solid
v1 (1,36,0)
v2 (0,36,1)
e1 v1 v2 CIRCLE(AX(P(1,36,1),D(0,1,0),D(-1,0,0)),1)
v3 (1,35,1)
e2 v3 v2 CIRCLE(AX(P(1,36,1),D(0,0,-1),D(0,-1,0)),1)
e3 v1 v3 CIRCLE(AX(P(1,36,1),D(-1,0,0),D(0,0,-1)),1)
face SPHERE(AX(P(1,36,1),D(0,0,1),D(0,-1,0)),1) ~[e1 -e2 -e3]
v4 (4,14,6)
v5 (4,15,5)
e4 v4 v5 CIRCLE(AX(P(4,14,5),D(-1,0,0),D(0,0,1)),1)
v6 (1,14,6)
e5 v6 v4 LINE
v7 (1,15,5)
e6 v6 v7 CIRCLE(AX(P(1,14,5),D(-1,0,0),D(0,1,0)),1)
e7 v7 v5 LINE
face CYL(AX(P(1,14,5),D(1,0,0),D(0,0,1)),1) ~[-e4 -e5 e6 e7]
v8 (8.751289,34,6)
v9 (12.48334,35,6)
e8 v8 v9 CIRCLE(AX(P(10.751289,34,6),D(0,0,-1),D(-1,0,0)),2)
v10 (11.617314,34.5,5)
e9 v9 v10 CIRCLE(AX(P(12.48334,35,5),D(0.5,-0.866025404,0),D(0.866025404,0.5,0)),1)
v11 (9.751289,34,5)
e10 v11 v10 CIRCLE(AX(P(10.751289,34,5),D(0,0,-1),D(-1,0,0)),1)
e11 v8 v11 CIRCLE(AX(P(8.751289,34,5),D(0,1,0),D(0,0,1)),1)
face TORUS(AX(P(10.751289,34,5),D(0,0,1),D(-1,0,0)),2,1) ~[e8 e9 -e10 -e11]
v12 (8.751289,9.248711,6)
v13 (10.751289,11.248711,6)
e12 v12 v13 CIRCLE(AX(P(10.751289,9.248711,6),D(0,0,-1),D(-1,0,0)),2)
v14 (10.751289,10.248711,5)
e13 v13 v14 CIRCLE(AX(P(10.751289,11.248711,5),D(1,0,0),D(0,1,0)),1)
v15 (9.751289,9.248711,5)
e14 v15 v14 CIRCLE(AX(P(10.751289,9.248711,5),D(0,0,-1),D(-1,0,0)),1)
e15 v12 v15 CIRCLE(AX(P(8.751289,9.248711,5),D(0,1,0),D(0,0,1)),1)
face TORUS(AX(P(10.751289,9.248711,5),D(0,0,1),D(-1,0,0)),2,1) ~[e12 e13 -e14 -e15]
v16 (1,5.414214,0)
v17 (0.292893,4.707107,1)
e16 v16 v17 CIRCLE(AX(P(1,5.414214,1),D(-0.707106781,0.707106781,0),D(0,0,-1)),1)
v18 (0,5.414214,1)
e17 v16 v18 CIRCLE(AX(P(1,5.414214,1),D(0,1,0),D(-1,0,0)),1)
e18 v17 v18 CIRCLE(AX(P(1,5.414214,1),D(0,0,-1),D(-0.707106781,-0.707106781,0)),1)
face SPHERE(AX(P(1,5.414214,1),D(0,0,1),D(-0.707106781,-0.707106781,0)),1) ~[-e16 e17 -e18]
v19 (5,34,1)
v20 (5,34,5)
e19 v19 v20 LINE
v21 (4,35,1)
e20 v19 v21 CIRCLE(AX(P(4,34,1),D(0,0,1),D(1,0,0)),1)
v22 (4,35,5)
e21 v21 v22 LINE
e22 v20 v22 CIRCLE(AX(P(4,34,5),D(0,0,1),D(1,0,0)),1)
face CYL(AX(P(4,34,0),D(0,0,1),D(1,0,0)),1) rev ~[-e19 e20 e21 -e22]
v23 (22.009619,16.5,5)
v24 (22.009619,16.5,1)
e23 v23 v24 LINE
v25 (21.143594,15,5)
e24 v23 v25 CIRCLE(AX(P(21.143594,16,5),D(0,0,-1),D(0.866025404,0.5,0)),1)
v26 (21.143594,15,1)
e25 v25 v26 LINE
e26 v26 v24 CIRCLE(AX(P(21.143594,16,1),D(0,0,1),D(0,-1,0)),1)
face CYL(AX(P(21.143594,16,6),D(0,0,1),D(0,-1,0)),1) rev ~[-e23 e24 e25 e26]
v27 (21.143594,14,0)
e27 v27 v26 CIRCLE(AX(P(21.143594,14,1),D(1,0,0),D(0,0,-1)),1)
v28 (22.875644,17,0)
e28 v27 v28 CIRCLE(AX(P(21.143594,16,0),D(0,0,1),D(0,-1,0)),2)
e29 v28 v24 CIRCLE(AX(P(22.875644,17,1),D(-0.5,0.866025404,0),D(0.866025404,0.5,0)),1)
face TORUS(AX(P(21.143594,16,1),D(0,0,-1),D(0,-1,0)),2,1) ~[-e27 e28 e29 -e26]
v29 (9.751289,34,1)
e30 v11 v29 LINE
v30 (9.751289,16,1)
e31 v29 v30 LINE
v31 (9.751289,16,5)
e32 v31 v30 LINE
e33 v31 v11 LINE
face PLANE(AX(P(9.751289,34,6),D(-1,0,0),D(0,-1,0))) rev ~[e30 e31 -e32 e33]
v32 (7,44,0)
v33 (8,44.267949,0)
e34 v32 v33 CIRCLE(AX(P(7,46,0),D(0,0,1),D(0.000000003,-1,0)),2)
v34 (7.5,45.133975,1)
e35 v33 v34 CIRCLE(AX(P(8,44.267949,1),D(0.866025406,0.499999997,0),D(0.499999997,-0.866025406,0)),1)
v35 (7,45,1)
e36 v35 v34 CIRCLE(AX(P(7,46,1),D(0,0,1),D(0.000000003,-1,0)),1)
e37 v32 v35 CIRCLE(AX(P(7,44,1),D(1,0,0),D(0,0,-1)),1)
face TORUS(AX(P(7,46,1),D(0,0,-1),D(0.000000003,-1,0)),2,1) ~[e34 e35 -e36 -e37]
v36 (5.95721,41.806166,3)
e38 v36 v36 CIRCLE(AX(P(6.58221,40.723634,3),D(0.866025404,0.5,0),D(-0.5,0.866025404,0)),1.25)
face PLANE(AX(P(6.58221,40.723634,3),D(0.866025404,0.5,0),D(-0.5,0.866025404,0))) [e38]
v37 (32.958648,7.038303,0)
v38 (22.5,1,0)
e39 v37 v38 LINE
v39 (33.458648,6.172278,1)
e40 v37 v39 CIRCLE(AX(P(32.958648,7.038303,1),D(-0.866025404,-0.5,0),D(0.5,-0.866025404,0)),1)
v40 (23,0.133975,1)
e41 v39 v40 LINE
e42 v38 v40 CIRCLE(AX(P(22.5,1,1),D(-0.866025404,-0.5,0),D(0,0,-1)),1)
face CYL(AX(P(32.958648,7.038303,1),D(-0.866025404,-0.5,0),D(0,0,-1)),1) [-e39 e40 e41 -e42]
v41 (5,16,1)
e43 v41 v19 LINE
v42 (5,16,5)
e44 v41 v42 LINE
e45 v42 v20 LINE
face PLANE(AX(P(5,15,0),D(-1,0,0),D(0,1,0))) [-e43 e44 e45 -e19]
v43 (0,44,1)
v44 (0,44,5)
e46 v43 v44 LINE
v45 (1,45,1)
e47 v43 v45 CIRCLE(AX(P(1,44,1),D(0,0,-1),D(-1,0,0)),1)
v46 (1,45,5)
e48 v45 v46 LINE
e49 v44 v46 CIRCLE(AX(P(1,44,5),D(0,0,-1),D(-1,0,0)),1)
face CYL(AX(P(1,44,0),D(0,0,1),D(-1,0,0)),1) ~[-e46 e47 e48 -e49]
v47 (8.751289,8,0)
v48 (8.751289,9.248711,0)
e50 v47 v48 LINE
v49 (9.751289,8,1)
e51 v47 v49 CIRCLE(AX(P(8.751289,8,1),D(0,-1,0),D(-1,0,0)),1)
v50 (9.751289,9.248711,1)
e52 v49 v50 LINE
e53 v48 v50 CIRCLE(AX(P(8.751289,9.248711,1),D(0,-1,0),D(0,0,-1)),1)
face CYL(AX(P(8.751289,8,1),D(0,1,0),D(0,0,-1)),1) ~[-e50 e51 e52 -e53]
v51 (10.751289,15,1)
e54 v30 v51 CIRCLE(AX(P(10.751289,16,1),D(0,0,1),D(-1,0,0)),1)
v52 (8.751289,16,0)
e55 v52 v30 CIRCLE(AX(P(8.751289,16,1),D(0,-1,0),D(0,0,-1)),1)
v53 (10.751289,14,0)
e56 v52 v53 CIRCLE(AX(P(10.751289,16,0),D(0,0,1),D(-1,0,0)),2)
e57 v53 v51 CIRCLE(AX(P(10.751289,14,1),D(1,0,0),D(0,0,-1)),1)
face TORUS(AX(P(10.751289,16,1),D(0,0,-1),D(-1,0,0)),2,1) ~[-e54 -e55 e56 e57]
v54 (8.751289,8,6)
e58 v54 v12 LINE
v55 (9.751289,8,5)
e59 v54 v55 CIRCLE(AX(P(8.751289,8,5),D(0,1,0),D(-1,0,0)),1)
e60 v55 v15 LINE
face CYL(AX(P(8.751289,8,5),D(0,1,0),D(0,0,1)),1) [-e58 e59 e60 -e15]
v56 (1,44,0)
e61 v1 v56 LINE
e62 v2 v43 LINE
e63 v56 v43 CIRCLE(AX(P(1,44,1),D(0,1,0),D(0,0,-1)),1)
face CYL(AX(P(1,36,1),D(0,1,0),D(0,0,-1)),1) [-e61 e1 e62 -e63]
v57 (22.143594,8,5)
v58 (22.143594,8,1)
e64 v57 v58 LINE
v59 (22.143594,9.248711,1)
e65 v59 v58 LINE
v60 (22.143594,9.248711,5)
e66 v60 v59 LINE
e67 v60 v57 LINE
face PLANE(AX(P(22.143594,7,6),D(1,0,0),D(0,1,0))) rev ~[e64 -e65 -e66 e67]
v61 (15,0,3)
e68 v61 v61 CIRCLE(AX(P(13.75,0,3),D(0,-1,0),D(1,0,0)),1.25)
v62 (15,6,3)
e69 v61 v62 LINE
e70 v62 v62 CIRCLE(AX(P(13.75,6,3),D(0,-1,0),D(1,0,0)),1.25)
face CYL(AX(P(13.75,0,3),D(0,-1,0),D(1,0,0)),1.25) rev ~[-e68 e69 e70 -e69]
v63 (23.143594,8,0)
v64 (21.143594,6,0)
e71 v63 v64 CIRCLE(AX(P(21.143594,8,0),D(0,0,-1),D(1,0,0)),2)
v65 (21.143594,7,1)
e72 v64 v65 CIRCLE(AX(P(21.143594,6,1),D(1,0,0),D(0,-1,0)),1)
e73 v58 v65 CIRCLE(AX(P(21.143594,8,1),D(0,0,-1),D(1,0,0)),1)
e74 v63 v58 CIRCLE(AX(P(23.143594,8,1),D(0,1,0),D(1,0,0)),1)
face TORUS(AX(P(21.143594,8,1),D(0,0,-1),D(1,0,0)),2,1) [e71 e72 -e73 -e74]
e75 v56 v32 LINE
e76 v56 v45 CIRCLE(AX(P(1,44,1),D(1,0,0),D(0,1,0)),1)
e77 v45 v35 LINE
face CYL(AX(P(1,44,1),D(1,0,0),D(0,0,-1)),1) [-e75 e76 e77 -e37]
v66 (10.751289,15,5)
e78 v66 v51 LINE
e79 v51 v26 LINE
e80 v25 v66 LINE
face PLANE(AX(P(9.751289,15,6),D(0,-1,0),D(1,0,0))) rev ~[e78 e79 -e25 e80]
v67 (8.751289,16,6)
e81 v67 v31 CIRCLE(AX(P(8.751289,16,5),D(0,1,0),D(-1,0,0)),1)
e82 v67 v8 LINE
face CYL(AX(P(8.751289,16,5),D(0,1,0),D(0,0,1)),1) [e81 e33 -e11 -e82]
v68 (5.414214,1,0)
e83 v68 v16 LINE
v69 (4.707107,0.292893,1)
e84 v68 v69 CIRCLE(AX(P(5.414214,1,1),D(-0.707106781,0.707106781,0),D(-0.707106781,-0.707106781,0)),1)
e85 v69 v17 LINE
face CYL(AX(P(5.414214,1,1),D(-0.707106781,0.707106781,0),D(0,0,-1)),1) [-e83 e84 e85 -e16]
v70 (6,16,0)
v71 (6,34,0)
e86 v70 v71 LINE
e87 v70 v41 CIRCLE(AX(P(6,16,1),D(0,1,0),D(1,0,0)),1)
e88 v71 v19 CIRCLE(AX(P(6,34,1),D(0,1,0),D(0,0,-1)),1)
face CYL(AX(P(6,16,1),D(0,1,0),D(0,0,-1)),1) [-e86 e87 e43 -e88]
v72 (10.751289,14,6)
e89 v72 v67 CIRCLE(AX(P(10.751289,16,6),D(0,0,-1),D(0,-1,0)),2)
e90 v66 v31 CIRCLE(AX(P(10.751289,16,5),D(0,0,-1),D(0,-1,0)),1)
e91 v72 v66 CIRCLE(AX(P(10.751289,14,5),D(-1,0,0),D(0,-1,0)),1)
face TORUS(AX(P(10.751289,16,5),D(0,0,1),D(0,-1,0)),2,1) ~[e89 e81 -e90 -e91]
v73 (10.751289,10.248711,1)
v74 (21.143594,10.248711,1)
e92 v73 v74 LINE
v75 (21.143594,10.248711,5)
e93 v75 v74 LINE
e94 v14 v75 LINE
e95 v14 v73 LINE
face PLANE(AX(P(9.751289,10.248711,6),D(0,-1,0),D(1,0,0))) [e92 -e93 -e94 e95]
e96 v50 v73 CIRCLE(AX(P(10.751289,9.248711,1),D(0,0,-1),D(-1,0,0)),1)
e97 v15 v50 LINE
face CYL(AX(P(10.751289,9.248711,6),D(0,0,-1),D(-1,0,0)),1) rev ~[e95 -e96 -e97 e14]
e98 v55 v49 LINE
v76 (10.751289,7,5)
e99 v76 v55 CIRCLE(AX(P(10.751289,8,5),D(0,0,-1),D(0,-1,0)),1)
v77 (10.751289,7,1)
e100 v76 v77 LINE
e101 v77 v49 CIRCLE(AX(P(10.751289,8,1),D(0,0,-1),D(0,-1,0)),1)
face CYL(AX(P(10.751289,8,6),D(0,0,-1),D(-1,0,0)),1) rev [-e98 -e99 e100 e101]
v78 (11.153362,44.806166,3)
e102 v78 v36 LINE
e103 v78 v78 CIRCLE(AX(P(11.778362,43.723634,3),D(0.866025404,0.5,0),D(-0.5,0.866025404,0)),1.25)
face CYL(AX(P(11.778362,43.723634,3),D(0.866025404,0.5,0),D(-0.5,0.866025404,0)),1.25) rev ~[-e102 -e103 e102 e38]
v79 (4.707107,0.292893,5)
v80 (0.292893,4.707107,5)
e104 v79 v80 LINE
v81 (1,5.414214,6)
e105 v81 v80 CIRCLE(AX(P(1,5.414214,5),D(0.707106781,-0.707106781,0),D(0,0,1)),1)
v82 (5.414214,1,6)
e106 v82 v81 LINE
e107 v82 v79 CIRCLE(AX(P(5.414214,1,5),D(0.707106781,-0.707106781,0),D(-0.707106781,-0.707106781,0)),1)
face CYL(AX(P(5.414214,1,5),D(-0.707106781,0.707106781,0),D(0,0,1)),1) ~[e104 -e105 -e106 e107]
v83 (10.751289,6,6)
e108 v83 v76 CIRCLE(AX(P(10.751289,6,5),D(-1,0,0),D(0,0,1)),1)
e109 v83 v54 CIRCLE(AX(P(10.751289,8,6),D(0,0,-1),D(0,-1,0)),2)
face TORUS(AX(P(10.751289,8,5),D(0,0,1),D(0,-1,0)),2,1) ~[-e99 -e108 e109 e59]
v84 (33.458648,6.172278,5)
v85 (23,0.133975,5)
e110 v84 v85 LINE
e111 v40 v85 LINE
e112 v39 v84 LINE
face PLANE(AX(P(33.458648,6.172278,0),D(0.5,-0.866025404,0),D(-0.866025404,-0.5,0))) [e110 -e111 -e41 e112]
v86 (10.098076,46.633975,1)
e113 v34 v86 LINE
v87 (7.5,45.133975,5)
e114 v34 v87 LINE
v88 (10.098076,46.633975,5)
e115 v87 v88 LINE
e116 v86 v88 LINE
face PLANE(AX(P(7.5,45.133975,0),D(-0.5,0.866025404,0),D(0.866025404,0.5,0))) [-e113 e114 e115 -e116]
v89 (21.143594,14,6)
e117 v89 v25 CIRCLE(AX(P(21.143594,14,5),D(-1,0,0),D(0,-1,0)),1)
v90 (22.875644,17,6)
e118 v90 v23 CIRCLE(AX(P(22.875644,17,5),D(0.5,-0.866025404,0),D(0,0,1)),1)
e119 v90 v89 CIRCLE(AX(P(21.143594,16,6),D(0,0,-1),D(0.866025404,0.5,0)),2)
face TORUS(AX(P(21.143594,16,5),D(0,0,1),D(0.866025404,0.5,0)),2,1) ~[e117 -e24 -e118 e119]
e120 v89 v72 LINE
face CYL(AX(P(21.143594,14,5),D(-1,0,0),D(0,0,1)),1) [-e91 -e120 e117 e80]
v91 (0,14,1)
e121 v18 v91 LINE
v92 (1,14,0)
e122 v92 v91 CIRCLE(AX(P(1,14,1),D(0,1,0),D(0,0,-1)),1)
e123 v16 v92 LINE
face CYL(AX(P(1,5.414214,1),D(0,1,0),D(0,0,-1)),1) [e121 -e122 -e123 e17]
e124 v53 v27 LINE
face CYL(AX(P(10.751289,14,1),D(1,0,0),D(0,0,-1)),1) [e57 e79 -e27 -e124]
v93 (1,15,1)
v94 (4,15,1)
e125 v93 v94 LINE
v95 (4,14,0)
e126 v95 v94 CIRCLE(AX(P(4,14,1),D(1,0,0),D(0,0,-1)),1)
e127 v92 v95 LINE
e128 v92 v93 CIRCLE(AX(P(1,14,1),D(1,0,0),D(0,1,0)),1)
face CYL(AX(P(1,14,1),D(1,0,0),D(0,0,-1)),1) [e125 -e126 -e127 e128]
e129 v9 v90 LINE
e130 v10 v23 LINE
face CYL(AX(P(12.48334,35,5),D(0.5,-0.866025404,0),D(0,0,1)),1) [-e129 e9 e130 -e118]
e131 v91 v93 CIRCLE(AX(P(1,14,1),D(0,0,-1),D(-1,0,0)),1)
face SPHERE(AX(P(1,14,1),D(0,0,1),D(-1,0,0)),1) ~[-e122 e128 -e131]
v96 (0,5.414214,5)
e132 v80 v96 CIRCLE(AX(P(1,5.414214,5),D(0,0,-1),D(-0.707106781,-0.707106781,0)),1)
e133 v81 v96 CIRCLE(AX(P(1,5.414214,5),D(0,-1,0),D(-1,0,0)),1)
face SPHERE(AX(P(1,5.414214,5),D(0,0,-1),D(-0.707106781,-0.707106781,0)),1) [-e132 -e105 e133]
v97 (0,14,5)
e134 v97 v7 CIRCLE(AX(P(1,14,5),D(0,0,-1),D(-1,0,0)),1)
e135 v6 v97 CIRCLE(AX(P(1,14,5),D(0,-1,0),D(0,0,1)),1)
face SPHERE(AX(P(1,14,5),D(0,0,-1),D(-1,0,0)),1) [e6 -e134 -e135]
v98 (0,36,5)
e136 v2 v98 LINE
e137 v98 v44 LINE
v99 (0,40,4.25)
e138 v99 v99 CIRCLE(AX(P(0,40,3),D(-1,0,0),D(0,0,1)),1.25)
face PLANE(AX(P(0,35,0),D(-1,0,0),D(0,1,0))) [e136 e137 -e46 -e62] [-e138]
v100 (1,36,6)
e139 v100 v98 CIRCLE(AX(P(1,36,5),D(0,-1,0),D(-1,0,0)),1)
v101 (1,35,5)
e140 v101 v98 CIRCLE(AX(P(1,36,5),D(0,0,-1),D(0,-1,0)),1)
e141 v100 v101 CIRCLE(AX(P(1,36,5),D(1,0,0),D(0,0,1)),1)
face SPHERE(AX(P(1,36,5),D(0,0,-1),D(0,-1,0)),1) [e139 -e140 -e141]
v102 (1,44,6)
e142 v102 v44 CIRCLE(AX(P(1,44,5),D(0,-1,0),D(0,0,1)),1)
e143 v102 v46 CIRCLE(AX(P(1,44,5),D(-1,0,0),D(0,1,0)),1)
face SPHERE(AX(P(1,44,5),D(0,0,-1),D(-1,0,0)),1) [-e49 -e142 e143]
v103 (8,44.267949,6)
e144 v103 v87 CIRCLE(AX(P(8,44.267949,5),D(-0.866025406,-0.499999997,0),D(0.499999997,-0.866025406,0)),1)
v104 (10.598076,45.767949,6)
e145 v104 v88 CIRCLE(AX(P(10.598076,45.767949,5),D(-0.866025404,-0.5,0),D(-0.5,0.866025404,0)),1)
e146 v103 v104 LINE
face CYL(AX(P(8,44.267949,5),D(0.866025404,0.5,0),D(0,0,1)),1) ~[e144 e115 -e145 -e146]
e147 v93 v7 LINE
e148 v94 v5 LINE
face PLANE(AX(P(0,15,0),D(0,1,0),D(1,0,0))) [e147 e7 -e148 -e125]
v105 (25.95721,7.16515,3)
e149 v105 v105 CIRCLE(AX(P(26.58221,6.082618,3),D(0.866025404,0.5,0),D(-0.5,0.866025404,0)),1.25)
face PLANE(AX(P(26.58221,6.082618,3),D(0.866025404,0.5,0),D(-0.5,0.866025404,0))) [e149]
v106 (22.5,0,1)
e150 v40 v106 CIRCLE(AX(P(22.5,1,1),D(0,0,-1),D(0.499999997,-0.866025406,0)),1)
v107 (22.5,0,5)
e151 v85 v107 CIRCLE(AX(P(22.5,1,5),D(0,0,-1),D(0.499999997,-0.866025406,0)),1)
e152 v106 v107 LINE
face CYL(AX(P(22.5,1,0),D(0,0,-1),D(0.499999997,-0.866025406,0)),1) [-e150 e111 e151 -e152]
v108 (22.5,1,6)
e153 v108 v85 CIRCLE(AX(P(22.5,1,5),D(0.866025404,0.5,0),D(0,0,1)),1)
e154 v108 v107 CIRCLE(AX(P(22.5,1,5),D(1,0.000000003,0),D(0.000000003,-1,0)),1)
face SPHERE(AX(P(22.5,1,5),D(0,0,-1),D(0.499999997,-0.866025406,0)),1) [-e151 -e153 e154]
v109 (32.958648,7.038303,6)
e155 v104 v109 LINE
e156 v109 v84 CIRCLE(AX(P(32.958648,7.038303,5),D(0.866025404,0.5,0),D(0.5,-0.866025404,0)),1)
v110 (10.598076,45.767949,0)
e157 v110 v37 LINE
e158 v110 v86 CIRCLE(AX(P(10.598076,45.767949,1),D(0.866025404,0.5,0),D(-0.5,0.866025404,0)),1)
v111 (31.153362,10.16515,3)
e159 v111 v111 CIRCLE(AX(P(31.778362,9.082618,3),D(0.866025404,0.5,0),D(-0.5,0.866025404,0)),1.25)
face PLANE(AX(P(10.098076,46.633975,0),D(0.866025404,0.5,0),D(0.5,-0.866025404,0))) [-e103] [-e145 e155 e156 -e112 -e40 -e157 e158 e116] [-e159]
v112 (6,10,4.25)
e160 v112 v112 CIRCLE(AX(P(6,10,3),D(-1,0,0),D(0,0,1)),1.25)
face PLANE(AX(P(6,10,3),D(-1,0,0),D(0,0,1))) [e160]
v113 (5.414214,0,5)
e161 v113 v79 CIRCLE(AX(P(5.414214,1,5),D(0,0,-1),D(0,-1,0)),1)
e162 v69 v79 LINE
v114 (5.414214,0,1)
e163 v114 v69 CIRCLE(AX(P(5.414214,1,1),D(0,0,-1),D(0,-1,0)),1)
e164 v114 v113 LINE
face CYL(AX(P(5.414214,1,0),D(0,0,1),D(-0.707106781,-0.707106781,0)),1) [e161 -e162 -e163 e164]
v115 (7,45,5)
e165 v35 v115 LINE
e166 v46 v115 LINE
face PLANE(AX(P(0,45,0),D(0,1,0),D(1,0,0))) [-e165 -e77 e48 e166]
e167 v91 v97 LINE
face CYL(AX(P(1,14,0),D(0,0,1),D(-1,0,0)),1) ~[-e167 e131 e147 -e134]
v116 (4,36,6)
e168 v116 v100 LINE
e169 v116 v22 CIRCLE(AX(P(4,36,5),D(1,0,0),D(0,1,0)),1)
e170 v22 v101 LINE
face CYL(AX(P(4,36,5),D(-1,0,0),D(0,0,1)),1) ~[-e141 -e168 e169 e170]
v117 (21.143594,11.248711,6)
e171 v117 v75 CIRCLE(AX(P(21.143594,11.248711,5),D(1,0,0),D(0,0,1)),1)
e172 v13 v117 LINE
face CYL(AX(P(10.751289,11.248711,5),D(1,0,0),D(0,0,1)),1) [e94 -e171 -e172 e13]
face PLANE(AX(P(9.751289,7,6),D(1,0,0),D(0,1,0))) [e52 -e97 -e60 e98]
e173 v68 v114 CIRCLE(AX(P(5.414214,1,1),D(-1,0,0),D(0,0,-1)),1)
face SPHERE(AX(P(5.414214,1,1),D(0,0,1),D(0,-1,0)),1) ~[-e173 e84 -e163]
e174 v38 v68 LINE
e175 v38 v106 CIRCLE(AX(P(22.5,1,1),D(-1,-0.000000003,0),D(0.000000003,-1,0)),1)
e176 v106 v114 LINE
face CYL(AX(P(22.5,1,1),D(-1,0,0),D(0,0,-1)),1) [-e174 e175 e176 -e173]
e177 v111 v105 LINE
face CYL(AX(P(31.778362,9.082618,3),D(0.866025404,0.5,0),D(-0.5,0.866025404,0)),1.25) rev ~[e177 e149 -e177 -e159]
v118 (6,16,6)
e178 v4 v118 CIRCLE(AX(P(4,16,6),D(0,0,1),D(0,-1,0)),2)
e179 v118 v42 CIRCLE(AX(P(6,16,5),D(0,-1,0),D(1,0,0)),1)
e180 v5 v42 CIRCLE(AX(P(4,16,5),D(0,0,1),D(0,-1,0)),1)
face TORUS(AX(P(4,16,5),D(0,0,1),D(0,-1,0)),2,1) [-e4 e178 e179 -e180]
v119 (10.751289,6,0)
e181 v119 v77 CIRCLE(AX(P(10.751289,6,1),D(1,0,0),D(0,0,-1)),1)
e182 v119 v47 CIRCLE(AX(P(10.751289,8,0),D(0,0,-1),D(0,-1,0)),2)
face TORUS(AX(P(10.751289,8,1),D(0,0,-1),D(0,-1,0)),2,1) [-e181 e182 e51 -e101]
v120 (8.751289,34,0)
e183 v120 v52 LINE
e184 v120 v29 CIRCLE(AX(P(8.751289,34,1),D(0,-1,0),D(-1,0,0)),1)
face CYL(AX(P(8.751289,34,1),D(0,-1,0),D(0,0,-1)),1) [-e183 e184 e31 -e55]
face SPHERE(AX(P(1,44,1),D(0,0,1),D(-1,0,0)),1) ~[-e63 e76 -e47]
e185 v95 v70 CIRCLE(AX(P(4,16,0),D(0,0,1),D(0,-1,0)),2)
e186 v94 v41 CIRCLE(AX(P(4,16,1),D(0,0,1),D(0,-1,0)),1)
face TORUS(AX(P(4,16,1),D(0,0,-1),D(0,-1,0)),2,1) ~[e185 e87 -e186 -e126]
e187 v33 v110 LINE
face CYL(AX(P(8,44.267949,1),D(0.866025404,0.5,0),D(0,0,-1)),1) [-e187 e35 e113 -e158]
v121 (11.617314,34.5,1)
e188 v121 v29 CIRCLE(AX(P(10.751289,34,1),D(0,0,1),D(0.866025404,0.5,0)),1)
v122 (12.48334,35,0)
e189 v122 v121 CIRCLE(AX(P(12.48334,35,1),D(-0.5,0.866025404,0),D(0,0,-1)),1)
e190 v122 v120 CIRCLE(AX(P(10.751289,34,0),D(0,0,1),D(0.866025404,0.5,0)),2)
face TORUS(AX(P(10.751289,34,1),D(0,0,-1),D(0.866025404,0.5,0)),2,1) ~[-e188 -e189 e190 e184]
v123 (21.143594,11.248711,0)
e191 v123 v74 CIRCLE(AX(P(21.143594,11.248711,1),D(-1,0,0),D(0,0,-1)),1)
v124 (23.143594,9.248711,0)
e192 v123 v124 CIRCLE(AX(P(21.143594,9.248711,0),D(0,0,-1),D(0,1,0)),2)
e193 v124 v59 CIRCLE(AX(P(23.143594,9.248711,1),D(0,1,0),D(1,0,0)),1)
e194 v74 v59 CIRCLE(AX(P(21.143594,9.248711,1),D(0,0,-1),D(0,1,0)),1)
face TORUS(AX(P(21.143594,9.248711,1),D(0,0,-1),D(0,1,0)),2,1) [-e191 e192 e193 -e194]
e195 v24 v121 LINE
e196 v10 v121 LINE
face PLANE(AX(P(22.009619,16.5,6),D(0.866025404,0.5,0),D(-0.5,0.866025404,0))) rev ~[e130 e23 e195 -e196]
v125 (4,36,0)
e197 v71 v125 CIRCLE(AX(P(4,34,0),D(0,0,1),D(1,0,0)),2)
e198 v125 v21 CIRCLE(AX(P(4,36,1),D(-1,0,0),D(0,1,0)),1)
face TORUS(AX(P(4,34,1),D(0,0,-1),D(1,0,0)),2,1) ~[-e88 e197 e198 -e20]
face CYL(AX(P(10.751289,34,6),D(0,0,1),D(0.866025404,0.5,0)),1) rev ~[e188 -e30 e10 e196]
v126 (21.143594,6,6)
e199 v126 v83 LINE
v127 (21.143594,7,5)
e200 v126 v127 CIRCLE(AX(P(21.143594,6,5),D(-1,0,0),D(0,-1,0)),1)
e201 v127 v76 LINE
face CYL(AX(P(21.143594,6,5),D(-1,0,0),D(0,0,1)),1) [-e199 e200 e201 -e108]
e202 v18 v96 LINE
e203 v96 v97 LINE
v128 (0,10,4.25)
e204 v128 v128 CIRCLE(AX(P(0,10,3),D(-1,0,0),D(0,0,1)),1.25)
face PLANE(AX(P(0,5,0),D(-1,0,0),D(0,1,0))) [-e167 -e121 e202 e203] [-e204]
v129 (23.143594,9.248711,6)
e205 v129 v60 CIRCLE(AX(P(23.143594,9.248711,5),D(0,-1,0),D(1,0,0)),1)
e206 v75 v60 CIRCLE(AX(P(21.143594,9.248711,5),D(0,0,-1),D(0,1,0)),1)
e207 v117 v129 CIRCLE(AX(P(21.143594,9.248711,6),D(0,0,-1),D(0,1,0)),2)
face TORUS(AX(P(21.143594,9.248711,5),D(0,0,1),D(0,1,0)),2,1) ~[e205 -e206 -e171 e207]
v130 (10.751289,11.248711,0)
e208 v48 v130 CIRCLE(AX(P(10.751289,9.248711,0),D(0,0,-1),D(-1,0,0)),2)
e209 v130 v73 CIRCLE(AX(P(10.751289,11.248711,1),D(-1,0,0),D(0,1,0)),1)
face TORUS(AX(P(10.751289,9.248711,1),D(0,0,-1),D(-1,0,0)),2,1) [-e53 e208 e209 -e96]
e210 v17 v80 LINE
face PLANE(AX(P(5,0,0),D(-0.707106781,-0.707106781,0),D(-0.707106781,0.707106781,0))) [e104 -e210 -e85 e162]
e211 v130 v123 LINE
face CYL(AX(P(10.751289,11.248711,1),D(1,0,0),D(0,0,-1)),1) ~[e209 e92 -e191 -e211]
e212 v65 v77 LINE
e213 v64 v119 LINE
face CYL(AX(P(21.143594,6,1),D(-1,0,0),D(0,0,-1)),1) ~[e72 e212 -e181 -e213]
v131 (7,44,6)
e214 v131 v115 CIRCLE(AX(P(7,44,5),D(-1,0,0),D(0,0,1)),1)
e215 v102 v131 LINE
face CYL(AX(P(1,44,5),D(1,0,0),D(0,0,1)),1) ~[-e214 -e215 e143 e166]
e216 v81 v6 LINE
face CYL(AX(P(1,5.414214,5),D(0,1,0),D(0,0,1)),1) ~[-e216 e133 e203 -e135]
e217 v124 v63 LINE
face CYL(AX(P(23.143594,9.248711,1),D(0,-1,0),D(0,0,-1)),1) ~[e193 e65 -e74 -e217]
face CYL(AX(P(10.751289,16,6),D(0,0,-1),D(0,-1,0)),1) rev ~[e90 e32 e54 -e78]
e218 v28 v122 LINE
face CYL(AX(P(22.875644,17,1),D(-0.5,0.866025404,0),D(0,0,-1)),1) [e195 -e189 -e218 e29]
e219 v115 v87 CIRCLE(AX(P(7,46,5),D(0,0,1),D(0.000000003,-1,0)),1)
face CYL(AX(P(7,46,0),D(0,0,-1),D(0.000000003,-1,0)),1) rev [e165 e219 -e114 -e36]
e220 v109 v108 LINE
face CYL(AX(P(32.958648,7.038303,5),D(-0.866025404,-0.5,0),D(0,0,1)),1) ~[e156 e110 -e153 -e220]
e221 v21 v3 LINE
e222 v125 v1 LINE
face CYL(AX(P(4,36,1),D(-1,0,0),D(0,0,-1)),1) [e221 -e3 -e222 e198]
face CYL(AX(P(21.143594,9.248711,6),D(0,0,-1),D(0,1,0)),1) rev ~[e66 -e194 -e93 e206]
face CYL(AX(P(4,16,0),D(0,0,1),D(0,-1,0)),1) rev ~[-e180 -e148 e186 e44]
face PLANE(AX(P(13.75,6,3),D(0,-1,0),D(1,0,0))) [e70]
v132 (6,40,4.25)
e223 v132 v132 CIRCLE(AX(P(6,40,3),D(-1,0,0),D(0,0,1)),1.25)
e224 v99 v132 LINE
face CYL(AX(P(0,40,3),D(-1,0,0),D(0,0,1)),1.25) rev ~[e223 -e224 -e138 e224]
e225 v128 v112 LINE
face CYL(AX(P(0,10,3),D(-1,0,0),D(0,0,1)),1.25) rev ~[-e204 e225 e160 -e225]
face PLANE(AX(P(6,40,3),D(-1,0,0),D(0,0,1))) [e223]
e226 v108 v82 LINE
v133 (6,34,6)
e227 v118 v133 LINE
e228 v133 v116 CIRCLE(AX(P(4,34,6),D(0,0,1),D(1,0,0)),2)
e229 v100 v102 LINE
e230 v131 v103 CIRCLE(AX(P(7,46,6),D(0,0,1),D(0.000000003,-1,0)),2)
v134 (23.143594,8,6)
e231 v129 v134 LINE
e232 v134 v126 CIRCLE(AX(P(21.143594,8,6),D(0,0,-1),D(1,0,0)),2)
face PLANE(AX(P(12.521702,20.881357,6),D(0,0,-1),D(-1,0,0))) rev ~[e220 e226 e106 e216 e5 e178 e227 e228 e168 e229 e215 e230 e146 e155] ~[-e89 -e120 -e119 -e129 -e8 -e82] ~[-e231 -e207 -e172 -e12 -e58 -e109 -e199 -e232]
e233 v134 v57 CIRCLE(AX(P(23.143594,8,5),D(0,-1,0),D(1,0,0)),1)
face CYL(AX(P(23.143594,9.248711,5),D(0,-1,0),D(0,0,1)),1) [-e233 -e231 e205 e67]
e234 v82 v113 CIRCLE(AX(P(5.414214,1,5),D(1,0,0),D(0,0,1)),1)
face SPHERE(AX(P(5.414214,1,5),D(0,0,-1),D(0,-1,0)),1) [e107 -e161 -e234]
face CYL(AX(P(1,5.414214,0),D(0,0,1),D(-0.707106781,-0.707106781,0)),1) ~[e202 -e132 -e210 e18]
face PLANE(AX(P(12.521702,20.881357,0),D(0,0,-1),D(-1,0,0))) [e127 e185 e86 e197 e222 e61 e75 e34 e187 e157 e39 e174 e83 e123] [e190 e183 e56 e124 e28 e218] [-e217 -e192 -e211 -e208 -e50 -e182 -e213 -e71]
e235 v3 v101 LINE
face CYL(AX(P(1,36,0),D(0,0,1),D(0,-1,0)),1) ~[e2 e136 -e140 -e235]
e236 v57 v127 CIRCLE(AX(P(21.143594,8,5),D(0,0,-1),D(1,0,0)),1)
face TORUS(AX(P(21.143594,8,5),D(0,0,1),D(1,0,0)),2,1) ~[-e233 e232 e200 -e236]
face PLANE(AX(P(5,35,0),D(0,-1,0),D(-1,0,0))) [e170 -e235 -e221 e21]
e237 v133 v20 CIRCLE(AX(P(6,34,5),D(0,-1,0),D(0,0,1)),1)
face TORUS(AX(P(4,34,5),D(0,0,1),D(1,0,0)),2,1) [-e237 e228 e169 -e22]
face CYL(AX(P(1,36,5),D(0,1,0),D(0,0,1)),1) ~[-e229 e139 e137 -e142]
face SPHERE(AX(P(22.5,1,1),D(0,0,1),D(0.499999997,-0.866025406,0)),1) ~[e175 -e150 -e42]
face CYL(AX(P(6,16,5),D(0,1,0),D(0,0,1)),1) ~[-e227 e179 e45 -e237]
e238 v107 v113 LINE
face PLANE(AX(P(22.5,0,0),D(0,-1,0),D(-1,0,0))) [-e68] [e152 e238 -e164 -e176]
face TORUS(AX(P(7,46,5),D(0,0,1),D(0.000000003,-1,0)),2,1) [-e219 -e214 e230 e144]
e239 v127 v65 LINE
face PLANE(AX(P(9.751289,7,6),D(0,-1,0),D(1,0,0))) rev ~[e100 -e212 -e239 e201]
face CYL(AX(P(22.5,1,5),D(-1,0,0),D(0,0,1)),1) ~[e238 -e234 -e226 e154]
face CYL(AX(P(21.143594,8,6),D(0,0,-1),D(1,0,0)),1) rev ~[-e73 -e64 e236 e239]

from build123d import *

# Parameters (mm, degrees)
EXTRUDE_1_DEPTH     = 6
SKETCH_2_W          = 12.392304845
SKETCH_2_H          = 3.248711306
CUT_EXTRUDE_1_DEPTH = 6
SKETCH_3_R          = 1.25
CUT_EXTRUDE_2_DEPTH = 6
SKETCH_4_R          = 1.25
CUT_EXTRUDE_3_DEPTH = 6
SKETCH_5_R          = 1.25
CUT_EXTRUDE_4_DEPTH = 6
FILLET_1_R          = 1
FILLET_2_R          = 1


with BuildPart() as part:
    # Эскиз1 → Бобышка-Вытянуть1 (new body)
    with BuildSketch(Plane.XY):
        with BuildLine():
            Line((5, 0), (0, 5))
            Line((0, 5), (0, 15))
            Line((0, 15), (5, 15))
            Line((5, 15), (5, 35))
            Line((5, 35), (0, 35))
            Line((0, 35), (0, 45))
            Line((0, 45), (7, 45))
            ThreePointArc((7, 45), (7.258819045, 45.034074174), (7.5, 45.133974596))
            Line((7.5, 45.133974596), (10.098076211, 46.633974596))
            Line((10.098076211, 46.633974596), (33.458647797, 6.172277717))
            Line((33.458647797, 6.172277717), (23, 0.133974596))
            ThreePointArc((23, 0.133974596), (22.758819045, 0.034074174), (22.5, 0))
            Line((22.5, 0), (5, 0))
        make_face()
    extrude(amount=EXTRUDE_1_DEPTH)

    # Эскиз2 → Вырез-Вытянуть1 (cut)
    with BuildSketch(Plane.XY.offset(6)):
        with BuildLine():
            Line((9.751288694, 34), (9.751288694, 15))
            Line((9.751288694, 15), (21.143593539, 15))
            ThreePointArc((21.143593539, 15), (22.009618943, 15.5), (22.009618943, 16.5))
            Line((22.009618943, 16.5), (11.617314098, 34.5))
            ThreePointArc((11.617314098, 34.5), (10.492469649, 34.965925826), (9.751288694, 34))
        make_face()
        with Locations((15.947441117, 8.624355653)):
            Rectangle(SKETCH_2_W, SKETCH_2_H)
    extrude(amount=-CUT_EXTRUDE_1_DEPTH, mode=Mode.SUBTRACT)

    # Эскиз3 → Вырез-Вытянуть2 (cut)
    with BuildSketch(Plane.ZY):
        with Locations((3, 40)):
            Circle(SKETCH_3_R)
        with Locations((3, 10)):
            Circle(SKETCH_3_R)
    extrude(amount=-CUT_EXTRUDE_2_DEPTH, mode=Mode.SUBTRACT)

    # Эскиз4 → Вырез-Вытянуть3 (cut)
    with BuildSketch(Plane.XZ):
        with Locations((13.75, 3)):
            Circle(SKETCH_4_R)
    extrude(amount=-CUT_EXTRUDE_3_DEPTH, mode=Mode.SUBTRACT)

    # Эскиз5 → Вырез-Вытянуть4 (cut)
    with BuildSketch(Plane(origin=(27.766660498, 16.031088913, 0), x_dir=(0, 0, -1), z_dir=(0.8660254037844382, 0.5000000000000007, 0))):
        with Locations(Location((-3, 31.976596989, 0), (0, 0, 90))):
            Circle(SKETCH_5_R)
        with Locations(Location((-3, -8.023403011, 0), (0, 0, 90))):
            Circle(SKETCH_5_R)
    extrude(amount=-CUT_EXTRUDE_4_DEPTH, mode=Mode.SUBTRACT)

    # Скругление1
    fillet_1_edges = [part.edges().sort_by_distance(p)[0] for p in [
        (5, 0, 3),
        (0, 5, 3),
        (0, 15, 3),
        (5, 15, 3),
        (5, 35, 3),
        (0, 35, 3),
        (0, 45, 3),
        (9.751288694, 15, 3),
        (9.751288694, 7, 3),
        (9.751288694, 10.248711306, 3),
        (22.143593539, 10.248711306, 3),
        (22.143593539, 7, 3),
    ]]
    fillet(fillet_1_edges, radius=FILLET_1_R)

    # Скругление2
    fillet_2_edges = [part.edges().sort_by_distance(p)[0] for p in [
        (28.229323898, 3.153126157, 6),
        (15.947441117, 15, 0),
        (13.957106781, 0, 0),
        (13.957106781, 0, 6),
        (2.5, 2.5, 0),
        (0, 9.707106781, 0),
        (2.5, 15, 0),
        (5, 25, 0),
        (2.5, 35, 0),
        (0, 40, 0),
        (0.292893219, 35.292893219, 0),
        (0.292893219, 44.707106781, 0),
        (0.292893219, 14.707106781, 0),
        (0.076120467, 5.03153013, 0),
        (5.03153013, 0.076120467, 0),
        (2.5, 2.5, 6),
        (0, 40, 6),
        (2.5, 35, 6),
        (5, 25, 6),
        (2.5, 15, 6),
        (0, 9.707106781, 6),
        (0.292893219, 35.292893219, 6),
        (0.292893219, 44.707106781, 6),
        (0.292893219, 14.707106781, 6),
        (0.076120467, 5.03153013, 6),
        (5.03153013, 0.076120467, 6),
        (21.850700321, 7.292893219, 6),
        (21.850700321, 7.292893219, 0),
        (21.850700321, 9.955818087, 6),
        (21.850700321, 9.955818087, 0),
        (10.044181913, 7.292893219, 6),
        (10.044181913, 7.292893219, 0),
        (10.044181913, 9.955818087, 6),
        (10.044181913, 9.955818087, 0),
        (10.044181913, 15.292893219, 6),
        (10.044181913, 15.292893219, 0),
        (4.707106781, 15.292893219, 0),
        (4.707106781, 15.292893219, 6),
        (4.707106781, 34.707106781, 0),
        (4.707106781, 34.707106781, 6),
        (4, 45, 0),
        (7.258819045, 45.034074174, 0),
        (8.799038106, 45.883974596, 0),
        (28.229323898, 3.153126157, 0),
        (8.799038106, 45.883974596, 6),
        (22.758819045, 0.034074174, 0),
        (7.258819045, 45.034074174, 6),
        (4, 45, 6),
        (9.751288694, 25, 0),
        (10.492469649, 34.965925826, 0),
        (16.813466521, 25.5, 0),
        (22.009618943, 15.5, 0),
        (22.009618943, 15.5, 6),
        (16.813466521, 25.5, 6),
        (10.492469649, 34.965925826, 6),
        (9.751288694, 25, 6),
        (22.758819045, 0.034074174, 6),
        (22.143593539, 8.624355653, 6),
        (22.143593539, 8.624355653, 0),
        (15.947441117, 7, 6),
        (15.947441117, 7, 0),
        (15.947441117, 10.248711306, 6),
        (15.947441117, 10.248711306, 0),
        (9.751288694, 8.624355653, 6),
        (9.751288694, 8.624355653, 0),
        (15.947441117, 15, 6),
    ]]
    fillet(fillet_2_edges, radius=FILLET_2_R)


solid = part.part
